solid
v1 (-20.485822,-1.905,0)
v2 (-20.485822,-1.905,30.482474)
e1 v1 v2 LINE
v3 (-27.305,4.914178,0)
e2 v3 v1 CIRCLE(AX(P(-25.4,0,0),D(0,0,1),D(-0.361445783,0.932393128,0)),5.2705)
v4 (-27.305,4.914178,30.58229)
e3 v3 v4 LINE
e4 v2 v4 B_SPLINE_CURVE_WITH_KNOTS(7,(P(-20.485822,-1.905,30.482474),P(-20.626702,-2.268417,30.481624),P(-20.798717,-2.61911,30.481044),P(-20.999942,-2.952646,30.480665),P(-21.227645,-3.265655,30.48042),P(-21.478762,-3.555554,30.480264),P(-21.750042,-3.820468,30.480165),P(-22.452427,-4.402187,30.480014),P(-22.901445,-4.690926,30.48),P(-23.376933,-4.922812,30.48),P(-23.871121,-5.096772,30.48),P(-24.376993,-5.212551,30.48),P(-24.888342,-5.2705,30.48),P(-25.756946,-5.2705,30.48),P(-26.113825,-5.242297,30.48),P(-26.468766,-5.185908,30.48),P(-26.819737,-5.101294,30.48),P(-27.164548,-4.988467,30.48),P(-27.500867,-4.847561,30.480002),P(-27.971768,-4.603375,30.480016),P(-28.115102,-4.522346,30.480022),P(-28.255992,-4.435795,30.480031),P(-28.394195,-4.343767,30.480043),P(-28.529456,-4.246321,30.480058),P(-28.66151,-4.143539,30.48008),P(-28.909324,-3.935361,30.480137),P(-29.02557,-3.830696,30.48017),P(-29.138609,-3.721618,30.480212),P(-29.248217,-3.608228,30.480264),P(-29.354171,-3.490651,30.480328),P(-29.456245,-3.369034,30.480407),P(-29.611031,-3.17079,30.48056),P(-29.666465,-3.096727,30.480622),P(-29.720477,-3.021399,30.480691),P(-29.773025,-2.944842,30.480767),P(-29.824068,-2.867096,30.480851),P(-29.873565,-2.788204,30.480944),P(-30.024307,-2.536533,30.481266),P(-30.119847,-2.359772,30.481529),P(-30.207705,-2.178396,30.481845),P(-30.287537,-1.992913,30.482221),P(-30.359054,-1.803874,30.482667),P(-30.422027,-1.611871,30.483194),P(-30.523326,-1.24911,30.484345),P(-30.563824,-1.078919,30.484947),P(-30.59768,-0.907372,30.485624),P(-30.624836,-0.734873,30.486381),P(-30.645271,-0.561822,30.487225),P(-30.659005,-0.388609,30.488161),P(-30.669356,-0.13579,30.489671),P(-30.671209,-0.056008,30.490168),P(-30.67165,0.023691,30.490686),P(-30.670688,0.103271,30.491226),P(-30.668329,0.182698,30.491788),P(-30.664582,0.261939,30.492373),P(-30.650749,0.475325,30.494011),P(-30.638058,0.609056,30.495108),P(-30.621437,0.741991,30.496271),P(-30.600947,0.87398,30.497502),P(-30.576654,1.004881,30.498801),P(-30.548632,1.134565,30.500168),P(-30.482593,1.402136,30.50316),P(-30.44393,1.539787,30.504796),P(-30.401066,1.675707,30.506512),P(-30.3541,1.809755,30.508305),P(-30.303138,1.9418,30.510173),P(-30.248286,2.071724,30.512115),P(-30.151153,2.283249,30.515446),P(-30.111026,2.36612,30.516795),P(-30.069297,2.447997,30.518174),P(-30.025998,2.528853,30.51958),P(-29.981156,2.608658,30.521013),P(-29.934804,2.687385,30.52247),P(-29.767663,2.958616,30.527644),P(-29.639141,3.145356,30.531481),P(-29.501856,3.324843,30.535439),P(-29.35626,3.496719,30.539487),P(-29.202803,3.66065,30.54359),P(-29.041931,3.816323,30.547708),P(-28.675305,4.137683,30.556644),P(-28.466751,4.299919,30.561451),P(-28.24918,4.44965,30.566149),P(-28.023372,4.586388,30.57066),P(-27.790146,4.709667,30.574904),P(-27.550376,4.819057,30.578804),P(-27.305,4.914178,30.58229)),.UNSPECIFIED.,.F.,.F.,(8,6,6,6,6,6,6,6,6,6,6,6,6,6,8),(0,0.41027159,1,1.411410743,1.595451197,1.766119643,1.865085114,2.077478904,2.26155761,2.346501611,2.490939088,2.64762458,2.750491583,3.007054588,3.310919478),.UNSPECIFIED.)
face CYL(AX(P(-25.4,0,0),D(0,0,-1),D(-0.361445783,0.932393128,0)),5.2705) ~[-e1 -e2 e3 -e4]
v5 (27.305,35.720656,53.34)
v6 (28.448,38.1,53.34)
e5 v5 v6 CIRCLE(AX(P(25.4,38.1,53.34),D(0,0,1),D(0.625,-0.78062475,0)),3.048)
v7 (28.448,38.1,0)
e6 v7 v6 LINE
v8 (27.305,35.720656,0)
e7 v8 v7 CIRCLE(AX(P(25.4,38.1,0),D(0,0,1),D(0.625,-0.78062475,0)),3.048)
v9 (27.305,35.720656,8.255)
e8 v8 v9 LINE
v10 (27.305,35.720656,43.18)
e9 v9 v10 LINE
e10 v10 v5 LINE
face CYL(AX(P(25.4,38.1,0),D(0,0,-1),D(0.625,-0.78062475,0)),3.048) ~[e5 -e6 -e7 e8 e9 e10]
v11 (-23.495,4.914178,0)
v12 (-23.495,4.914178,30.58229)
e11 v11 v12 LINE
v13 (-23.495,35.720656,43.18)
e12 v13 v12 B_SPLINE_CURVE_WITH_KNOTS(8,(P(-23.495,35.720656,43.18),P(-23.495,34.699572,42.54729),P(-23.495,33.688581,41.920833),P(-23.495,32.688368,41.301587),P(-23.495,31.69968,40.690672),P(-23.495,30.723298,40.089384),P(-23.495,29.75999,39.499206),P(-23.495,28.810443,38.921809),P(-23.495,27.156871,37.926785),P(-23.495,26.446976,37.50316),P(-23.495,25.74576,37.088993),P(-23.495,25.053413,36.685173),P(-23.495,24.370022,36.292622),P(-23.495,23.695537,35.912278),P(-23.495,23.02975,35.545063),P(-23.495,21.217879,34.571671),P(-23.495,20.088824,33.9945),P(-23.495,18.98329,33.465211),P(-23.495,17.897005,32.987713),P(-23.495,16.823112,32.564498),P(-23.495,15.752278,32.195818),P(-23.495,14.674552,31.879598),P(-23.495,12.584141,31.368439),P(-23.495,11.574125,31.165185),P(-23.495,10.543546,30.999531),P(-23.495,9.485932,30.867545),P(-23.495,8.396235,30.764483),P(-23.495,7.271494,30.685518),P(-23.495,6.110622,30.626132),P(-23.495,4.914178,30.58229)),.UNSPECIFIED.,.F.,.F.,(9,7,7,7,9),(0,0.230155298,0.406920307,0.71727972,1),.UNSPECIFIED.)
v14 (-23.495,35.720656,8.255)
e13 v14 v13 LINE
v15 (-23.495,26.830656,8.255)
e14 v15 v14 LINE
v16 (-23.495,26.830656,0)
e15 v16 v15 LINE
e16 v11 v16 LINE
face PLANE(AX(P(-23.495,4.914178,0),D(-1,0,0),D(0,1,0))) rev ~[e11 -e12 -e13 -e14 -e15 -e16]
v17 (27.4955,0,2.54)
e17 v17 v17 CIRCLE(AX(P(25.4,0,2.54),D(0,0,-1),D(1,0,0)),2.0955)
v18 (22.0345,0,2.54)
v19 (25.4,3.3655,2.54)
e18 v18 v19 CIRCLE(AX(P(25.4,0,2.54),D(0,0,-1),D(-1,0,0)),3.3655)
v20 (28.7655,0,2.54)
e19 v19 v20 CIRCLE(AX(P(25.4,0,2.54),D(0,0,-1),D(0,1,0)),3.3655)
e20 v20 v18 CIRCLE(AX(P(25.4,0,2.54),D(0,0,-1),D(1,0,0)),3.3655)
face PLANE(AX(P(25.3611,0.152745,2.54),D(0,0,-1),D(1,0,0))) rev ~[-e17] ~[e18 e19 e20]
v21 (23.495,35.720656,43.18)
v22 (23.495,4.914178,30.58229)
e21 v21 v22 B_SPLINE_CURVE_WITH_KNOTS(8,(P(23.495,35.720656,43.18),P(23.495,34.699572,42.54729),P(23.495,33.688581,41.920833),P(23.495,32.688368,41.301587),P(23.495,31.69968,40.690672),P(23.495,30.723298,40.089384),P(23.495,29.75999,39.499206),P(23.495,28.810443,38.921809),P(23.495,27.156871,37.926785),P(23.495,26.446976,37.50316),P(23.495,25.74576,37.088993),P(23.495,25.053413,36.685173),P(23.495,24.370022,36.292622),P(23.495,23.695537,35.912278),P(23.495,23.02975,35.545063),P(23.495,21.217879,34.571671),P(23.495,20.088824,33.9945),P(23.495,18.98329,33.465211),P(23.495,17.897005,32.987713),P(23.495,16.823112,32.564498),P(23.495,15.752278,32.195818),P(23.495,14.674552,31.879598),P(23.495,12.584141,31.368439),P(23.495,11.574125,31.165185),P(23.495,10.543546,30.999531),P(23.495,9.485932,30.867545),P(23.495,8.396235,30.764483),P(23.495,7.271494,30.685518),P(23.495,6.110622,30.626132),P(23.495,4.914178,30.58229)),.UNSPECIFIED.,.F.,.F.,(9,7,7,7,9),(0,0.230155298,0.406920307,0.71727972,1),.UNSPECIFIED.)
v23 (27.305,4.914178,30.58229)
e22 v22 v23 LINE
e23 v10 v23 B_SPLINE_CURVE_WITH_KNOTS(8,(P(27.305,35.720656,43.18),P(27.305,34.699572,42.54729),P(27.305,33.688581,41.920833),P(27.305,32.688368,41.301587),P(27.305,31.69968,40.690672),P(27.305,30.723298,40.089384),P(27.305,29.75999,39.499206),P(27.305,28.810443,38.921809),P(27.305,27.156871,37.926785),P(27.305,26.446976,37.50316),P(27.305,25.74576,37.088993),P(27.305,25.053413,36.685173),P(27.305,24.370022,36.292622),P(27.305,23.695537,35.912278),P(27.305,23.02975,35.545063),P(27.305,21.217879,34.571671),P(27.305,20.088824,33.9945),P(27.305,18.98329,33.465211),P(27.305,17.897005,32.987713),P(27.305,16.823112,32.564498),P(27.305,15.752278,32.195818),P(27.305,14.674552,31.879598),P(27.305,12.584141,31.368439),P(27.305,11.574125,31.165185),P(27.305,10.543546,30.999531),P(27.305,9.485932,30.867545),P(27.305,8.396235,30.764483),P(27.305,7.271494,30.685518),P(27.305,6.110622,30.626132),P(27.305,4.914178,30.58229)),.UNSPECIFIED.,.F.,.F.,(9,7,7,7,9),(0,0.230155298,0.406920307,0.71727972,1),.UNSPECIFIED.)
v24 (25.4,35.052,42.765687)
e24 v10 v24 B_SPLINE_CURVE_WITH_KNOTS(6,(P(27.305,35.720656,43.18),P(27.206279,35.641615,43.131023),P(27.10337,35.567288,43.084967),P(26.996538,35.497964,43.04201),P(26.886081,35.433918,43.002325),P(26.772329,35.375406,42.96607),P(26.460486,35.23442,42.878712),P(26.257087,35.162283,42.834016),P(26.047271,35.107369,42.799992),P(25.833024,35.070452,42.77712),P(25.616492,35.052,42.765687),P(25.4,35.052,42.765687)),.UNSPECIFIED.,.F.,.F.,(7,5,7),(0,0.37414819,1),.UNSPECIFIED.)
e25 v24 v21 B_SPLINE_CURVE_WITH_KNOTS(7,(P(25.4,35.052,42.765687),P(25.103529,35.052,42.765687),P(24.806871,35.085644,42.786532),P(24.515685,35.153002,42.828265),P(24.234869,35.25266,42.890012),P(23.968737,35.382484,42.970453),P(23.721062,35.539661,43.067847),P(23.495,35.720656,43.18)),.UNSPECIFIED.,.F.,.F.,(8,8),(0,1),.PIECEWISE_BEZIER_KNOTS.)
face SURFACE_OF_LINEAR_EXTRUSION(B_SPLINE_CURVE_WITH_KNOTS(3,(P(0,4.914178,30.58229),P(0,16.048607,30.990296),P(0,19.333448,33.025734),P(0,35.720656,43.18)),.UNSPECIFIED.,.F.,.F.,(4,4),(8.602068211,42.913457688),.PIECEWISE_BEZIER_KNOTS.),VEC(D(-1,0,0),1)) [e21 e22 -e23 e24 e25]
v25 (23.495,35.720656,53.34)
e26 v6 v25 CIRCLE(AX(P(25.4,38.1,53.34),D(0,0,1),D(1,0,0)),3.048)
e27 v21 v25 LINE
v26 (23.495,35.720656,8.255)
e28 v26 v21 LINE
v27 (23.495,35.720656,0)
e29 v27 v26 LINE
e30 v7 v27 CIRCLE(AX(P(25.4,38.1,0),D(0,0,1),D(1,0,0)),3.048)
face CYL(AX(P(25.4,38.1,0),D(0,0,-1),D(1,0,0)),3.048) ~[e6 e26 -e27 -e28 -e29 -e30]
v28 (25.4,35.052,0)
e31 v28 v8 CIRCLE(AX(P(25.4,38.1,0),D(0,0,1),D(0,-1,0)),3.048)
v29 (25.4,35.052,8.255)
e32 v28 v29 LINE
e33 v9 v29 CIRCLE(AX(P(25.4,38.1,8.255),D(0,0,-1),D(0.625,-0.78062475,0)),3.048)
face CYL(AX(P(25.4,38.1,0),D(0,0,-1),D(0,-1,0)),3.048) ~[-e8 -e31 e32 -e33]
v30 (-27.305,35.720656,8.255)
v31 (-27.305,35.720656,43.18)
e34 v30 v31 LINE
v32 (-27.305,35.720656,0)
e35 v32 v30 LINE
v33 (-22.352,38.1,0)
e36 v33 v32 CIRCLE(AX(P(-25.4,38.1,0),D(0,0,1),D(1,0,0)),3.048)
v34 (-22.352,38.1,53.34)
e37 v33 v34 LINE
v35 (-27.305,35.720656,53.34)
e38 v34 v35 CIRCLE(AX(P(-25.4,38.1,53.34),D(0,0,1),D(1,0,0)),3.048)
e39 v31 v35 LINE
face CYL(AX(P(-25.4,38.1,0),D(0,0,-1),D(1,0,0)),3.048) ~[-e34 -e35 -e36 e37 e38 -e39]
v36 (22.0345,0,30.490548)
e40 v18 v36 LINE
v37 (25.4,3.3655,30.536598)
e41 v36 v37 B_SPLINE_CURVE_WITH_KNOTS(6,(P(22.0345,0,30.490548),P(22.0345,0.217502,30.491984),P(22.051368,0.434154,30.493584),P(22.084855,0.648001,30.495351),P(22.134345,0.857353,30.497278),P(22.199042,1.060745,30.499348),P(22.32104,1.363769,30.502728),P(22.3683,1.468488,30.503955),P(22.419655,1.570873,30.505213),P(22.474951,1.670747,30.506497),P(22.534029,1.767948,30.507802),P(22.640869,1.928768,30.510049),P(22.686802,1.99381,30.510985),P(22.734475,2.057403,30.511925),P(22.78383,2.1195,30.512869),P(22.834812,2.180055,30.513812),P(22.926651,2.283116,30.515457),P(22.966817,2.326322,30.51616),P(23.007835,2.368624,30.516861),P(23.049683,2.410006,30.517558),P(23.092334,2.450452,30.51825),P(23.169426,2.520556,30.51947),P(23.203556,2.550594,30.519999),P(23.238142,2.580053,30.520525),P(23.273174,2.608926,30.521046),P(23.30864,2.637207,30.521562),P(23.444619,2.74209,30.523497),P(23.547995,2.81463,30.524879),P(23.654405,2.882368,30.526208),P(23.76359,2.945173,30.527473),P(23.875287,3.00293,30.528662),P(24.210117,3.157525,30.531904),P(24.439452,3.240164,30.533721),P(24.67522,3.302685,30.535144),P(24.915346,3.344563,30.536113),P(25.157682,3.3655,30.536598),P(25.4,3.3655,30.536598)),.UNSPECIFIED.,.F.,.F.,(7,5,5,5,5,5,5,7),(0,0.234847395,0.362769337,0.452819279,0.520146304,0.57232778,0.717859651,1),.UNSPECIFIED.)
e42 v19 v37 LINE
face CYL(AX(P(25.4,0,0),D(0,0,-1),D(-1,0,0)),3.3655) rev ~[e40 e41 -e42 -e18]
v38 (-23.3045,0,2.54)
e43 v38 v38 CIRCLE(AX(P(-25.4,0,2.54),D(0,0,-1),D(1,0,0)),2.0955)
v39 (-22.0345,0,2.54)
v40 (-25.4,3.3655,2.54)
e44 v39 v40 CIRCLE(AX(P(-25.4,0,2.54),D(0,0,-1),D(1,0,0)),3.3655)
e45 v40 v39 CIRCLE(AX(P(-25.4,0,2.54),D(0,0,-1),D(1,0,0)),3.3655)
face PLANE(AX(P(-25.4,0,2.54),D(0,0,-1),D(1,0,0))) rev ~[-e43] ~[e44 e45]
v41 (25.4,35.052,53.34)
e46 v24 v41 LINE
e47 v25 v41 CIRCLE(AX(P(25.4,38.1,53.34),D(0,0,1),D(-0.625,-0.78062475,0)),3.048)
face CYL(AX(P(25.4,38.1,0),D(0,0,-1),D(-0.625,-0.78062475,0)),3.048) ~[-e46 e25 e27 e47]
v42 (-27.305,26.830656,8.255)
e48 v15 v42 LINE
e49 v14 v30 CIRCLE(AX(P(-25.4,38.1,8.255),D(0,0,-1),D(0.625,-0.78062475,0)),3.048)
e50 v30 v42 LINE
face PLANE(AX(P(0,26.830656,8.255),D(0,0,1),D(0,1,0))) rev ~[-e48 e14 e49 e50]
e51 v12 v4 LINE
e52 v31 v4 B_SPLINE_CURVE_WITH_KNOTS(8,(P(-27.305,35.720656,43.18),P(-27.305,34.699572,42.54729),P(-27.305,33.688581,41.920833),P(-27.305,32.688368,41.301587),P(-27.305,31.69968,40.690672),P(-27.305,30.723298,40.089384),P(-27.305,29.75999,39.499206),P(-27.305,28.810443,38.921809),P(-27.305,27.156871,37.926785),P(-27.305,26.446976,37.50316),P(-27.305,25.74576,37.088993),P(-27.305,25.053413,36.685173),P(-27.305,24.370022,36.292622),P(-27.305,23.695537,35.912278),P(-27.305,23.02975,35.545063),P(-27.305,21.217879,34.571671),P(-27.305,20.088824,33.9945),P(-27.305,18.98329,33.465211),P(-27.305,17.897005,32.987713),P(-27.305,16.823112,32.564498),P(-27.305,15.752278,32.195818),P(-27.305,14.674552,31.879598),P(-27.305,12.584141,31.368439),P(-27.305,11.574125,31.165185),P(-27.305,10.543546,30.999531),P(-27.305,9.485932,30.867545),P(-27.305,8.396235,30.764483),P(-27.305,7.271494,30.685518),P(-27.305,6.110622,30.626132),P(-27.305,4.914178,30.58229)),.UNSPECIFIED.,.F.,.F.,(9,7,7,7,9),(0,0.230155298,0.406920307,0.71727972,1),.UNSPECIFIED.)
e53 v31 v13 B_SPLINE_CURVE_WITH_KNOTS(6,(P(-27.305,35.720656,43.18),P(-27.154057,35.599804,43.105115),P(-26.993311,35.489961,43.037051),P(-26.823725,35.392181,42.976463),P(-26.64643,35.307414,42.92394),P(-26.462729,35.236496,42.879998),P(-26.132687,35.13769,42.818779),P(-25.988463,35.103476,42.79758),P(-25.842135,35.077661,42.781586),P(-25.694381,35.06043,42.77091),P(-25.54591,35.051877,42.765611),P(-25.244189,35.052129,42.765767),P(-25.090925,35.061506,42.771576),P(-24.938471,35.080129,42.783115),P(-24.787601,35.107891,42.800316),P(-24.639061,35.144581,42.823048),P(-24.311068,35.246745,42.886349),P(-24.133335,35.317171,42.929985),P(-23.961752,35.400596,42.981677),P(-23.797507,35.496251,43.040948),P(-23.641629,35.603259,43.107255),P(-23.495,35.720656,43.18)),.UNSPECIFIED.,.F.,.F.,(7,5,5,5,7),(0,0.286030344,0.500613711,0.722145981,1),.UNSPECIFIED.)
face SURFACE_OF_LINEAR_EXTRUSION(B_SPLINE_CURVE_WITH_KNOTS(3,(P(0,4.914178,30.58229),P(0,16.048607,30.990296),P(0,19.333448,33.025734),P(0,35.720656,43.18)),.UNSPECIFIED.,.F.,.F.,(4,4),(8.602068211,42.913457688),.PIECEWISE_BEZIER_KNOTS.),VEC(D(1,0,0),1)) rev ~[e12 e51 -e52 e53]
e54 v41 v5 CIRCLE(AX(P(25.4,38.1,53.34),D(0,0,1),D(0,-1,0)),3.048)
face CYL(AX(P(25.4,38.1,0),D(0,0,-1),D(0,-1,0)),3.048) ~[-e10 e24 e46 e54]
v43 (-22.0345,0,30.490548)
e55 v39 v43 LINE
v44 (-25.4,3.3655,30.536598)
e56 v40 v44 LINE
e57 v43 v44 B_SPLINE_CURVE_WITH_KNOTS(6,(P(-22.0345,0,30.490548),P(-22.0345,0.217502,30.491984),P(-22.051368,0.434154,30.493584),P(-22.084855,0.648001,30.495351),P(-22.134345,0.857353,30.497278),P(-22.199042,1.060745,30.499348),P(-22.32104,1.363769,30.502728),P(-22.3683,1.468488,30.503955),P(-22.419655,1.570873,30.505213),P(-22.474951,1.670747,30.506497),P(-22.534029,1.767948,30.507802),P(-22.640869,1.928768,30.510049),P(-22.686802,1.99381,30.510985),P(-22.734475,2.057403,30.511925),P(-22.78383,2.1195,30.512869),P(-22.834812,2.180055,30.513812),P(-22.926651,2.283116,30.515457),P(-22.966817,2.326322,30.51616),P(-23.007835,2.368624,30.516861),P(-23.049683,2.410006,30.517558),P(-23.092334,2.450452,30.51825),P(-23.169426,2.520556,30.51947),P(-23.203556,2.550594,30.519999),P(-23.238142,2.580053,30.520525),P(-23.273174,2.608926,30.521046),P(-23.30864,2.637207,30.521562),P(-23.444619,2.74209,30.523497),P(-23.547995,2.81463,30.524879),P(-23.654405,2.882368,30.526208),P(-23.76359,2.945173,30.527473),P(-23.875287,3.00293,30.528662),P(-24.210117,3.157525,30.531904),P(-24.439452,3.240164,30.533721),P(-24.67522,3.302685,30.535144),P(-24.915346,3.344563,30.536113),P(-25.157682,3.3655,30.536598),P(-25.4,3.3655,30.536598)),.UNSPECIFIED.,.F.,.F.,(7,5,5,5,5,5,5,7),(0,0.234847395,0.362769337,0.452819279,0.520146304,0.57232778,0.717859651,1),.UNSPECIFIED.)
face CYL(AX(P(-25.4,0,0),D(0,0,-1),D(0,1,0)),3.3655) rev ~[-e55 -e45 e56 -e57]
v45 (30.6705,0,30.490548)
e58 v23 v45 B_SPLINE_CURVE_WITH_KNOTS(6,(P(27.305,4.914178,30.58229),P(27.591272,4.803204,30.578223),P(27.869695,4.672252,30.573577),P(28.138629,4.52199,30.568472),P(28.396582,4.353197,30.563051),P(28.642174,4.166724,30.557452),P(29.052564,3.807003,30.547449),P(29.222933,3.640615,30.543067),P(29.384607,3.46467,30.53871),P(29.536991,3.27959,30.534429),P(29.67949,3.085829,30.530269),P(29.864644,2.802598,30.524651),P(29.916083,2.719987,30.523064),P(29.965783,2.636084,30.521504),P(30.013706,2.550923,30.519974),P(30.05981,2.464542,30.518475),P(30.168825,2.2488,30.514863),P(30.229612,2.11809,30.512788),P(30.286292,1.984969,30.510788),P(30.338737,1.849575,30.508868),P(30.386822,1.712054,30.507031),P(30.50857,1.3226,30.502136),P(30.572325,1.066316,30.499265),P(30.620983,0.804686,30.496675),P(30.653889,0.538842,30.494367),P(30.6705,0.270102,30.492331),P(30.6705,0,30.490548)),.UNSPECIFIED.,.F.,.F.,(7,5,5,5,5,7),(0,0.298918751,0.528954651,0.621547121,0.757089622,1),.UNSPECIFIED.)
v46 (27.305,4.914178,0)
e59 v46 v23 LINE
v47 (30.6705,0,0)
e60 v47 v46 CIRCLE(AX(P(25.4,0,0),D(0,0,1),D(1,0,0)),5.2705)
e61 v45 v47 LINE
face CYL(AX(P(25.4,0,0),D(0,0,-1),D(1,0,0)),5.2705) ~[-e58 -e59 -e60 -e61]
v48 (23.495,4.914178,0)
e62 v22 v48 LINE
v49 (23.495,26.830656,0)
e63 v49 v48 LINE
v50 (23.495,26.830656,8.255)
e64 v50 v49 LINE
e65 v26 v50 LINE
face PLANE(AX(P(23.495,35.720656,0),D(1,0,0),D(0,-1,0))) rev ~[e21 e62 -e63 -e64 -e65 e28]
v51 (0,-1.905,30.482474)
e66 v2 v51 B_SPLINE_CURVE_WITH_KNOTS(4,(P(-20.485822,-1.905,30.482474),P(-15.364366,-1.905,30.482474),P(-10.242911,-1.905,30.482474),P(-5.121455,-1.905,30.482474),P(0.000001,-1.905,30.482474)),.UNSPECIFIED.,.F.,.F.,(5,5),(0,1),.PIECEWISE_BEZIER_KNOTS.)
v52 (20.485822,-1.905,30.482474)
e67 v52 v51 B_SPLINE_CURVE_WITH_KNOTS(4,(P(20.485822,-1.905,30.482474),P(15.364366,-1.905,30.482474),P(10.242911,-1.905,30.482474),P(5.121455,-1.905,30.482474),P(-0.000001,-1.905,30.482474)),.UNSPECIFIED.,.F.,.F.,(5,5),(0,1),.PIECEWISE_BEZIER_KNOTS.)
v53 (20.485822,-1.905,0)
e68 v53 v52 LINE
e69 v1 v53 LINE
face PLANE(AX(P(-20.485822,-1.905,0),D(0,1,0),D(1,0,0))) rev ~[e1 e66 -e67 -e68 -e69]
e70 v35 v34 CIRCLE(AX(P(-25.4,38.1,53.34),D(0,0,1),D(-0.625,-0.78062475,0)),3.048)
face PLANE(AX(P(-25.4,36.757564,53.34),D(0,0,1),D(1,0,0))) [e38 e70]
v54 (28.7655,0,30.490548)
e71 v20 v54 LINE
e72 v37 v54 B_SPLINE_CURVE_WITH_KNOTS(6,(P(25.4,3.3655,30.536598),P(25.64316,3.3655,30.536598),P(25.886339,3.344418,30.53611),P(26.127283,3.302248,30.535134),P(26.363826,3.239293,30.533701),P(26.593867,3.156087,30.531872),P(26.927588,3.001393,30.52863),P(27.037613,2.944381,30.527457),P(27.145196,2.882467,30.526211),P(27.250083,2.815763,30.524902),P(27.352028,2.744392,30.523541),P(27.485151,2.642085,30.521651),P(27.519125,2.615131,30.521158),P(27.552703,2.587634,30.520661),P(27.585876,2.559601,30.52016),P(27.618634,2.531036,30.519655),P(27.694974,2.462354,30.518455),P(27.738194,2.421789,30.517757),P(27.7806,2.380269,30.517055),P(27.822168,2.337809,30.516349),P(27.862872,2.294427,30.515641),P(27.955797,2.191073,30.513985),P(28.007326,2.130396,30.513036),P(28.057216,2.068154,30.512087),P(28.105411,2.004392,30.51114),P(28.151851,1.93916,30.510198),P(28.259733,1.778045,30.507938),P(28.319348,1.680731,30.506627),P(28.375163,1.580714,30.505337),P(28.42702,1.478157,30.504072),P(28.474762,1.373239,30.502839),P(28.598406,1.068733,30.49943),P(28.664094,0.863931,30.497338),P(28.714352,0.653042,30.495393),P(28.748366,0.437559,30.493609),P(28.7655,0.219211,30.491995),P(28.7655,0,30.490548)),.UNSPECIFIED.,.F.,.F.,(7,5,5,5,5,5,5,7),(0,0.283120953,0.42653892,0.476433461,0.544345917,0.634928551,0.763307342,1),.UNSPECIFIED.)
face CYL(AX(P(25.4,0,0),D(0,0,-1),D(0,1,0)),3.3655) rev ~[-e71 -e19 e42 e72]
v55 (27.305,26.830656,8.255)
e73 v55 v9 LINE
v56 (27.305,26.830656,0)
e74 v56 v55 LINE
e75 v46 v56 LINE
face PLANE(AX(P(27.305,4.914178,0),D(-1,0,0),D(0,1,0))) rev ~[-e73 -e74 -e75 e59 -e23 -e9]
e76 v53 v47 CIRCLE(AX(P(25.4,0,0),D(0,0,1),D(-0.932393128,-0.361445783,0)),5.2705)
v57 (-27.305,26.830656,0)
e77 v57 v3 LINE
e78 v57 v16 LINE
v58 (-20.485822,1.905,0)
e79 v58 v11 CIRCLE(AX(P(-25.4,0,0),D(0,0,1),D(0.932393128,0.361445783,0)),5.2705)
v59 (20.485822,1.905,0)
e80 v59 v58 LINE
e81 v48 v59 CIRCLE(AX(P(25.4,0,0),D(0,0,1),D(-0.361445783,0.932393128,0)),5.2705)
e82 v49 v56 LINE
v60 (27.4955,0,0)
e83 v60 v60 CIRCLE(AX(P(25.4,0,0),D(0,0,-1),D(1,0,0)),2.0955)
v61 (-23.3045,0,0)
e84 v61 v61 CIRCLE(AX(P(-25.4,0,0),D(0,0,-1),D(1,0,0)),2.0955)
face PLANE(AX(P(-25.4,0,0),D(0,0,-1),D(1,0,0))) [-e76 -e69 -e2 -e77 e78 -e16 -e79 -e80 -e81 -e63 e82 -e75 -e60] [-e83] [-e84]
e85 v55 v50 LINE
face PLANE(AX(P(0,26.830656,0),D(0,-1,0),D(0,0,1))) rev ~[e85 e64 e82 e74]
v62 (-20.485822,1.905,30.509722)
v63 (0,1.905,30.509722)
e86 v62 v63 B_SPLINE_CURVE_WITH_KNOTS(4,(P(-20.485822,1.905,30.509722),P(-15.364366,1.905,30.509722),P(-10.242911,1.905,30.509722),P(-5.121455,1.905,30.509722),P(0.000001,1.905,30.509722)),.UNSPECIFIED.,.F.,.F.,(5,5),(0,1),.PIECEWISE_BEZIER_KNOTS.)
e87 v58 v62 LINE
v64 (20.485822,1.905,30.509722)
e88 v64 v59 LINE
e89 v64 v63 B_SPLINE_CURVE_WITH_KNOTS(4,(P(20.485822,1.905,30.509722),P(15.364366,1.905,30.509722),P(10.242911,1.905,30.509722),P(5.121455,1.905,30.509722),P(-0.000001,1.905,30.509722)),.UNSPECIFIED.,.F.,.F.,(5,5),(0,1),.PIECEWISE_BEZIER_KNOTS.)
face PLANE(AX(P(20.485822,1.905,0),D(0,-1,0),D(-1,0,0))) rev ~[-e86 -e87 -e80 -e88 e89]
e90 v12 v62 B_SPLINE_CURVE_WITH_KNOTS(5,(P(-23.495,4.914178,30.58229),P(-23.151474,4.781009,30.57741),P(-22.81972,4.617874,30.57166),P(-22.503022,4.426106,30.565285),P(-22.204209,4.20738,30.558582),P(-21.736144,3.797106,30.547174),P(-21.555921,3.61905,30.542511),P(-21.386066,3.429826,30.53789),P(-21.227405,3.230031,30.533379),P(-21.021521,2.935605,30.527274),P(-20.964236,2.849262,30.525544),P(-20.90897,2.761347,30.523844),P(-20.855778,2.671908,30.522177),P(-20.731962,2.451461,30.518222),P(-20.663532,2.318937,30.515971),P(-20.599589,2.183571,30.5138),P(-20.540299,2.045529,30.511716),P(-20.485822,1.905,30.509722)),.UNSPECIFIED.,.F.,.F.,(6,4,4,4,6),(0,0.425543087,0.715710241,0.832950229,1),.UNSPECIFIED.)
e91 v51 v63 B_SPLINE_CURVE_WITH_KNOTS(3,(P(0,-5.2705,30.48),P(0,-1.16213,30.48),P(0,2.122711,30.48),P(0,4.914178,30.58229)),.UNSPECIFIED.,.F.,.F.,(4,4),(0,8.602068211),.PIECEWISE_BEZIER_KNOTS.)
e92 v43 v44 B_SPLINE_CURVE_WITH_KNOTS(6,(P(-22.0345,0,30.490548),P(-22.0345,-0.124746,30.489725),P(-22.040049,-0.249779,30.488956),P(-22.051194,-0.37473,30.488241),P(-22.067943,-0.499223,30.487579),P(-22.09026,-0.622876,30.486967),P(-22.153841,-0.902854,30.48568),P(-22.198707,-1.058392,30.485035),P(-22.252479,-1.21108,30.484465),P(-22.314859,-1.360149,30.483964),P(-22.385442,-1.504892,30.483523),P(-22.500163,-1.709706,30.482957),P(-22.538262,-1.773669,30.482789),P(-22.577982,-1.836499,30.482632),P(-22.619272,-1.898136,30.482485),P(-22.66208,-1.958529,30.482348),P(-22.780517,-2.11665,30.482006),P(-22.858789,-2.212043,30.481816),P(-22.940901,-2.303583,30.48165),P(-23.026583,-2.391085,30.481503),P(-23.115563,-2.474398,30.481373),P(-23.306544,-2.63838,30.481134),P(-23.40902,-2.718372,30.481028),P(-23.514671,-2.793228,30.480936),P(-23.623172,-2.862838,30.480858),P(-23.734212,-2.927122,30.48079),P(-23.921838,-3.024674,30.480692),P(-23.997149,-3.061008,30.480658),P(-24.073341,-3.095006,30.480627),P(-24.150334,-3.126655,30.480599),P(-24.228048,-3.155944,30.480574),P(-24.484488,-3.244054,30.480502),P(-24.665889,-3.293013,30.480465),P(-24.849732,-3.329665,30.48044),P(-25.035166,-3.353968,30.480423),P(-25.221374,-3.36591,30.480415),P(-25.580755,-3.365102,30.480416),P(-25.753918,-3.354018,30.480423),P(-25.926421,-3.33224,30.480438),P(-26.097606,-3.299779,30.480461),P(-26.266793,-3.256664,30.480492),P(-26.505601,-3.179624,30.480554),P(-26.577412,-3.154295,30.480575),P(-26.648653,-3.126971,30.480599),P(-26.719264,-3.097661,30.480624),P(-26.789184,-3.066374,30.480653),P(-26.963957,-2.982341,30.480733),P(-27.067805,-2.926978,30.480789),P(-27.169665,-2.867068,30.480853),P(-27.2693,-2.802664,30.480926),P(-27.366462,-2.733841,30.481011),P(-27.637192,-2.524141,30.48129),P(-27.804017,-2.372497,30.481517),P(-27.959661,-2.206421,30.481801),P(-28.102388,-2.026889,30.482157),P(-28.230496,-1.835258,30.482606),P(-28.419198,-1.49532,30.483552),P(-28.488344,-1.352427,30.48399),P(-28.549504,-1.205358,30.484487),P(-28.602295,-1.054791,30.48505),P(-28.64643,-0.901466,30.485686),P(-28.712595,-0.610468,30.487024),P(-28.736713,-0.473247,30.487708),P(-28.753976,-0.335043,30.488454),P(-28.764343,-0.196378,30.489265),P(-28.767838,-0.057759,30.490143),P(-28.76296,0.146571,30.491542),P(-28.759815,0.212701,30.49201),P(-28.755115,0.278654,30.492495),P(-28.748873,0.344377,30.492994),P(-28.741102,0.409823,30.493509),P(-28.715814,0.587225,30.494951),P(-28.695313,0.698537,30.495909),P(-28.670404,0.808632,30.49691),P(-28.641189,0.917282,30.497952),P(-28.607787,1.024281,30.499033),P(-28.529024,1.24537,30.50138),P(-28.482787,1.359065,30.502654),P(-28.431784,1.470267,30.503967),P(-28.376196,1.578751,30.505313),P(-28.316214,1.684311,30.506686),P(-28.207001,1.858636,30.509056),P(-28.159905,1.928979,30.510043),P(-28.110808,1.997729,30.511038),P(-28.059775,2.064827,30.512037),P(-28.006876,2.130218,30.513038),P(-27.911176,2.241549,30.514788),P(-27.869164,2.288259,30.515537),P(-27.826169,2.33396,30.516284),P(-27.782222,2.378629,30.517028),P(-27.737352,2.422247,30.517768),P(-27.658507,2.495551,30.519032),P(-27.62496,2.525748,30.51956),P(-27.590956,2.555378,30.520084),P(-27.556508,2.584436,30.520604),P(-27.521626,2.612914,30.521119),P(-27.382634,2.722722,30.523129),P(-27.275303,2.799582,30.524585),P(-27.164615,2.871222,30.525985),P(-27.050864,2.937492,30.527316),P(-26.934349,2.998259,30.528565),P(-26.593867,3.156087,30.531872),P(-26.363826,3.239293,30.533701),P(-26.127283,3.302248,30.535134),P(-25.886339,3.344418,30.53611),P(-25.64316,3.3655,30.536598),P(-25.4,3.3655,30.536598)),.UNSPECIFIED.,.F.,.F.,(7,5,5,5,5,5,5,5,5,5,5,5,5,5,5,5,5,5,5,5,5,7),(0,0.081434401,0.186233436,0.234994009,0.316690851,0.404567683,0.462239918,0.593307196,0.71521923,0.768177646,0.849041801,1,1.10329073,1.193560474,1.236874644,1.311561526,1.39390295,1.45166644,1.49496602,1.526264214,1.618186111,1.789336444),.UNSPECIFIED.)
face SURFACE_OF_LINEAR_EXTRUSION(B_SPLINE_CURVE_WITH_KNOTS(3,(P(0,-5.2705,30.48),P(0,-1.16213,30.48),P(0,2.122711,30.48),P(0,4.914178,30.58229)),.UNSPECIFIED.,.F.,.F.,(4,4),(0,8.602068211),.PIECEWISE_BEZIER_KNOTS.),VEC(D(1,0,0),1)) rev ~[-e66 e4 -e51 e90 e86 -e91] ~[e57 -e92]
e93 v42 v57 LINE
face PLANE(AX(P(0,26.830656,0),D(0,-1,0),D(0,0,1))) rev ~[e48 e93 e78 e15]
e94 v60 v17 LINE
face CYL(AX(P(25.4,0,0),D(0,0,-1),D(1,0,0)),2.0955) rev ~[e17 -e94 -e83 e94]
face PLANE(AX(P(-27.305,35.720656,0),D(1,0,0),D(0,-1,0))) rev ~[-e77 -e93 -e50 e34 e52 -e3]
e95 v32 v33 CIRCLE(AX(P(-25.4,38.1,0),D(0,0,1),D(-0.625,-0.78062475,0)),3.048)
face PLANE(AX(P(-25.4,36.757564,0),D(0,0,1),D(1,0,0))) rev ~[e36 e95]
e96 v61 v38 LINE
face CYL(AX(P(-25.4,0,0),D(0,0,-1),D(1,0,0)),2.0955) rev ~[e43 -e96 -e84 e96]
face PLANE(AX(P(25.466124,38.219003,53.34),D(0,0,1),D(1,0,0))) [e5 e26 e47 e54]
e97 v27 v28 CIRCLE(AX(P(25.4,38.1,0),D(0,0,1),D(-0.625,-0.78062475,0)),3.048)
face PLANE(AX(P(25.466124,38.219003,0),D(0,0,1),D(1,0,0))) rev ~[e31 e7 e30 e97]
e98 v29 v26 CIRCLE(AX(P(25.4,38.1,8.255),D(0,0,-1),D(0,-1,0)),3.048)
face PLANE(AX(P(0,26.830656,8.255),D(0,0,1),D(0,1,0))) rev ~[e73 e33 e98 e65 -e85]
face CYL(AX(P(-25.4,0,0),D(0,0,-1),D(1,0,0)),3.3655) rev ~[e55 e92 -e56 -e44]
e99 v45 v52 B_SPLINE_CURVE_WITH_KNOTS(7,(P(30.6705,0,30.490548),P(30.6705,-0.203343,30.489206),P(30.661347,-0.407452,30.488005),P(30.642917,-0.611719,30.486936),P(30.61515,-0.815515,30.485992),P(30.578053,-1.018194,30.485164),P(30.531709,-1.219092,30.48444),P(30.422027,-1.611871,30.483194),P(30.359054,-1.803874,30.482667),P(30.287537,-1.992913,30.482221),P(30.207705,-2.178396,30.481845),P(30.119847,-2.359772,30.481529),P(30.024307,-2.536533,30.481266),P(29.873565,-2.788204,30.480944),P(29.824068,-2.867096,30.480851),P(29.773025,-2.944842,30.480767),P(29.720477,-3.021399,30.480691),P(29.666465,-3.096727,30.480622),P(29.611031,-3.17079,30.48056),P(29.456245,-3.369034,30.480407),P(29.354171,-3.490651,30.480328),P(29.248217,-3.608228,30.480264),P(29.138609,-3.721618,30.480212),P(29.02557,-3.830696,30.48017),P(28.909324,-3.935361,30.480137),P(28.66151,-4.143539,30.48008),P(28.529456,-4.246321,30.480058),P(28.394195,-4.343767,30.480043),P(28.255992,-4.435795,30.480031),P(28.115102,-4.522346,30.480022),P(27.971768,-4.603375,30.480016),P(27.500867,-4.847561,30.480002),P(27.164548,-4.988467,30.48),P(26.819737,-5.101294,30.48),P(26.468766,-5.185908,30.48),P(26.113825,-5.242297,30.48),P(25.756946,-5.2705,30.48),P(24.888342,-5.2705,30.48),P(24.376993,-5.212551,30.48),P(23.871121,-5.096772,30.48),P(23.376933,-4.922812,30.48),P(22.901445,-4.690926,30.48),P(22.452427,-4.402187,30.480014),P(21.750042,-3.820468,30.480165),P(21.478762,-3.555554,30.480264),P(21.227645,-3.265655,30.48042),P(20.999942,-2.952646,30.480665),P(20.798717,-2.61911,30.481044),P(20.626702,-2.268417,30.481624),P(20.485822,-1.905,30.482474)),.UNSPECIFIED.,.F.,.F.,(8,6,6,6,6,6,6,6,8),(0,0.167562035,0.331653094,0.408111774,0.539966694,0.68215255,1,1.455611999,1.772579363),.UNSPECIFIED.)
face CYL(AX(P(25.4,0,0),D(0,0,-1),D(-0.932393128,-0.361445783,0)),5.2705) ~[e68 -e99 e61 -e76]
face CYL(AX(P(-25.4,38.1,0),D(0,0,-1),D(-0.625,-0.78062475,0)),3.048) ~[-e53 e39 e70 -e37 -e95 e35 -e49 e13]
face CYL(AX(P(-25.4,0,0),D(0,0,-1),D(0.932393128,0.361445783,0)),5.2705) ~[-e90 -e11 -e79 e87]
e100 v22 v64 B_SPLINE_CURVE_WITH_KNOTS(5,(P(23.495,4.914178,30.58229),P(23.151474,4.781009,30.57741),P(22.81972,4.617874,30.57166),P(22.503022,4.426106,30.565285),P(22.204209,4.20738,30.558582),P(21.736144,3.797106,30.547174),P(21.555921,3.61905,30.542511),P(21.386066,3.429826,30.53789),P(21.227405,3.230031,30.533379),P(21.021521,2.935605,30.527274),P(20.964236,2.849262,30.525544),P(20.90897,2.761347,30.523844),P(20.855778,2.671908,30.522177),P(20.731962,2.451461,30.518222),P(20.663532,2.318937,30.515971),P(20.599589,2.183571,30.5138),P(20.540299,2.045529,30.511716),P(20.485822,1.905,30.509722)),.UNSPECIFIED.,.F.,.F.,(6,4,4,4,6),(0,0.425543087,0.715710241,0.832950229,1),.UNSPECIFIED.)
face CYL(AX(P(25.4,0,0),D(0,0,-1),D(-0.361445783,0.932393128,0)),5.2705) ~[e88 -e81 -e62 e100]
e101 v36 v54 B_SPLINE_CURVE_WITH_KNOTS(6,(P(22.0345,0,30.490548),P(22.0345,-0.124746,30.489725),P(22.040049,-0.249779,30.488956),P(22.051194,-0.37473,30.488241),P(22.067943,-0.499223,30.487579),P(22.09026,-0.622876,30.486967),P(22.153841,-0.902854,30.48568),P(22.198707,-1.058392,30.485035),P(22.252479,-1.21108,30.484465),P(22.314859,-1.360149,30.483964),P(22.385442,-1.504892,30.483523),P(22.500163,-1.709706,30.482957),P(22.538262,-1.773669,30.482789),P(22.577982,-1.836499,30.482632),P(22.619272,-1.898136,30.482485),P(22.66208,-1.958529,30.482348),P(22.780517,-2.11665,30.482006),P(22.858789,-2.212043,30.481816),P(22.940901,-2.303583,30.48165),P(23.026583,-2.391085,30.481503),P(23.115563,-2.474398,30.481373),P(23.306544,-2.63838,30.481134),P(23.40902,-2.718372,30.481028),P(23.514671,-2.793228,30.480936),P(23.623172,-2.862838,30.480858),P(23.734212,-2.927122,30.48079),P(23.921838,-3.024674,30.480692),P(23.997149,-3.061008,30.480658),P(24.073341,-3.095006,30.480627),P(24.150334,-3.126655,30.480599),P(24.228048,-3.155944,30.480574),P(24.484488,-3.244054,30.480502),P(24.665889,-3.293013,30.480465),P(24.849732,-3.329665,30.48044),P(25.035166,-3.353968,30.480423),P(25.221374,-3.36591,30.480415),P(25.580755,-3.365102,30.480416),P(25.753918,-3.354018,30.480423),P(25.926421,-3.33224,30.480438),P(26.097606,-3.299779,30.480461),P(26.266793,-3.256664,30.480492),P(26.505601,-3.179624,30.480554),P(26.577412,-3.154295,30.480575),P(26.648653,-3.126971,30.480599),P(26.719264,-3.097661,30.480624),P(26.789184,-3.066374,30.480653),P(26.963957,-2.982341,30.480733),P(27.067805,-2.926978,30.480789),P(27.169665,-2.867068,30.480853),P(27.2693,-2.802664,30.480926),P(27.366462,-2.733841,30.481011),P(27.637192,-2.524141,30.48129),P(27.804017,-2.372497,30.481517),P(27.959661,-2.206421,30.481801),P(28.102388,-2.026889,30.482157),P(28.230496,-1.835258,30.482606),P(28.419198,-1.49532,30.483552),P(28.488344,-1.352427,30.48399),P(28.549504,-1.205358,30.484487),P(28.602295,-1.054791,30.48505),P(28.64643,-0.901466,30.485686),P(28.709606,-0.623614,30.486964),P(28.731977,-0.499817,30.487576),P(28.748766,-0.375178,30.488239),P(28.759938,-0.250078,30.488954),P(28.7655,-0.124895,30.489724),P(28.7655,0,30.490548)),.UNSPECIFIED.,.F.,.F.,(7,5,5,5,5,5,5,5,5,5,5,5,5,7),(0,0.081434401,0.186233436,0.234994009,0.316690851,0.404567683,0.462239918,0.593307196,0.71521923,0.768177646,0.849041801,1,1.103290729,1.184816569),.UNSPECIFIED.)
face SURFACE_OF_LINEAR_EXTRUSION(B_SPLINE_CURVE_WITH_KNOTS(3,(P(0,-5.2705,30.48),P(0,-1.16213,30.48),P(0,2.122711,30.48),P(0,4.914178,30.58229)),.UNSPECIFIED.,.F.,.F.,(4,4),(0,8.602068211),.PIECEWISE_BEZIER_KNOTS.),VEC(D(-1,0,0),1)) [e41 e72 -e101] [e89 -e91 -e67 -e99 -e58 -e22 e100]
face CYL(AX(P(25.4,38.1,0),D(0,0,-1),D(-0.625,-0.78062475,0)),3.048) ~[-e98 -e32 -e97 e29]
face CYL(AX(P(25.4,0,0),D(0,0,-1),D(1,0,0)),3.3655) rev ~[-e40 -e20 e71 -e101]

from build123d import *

# Parameters (mm, degrees)
F1_DEPTH = 50.8
F2_W     = 8.89
F2_H     = 8.255
F3_DEPTH = 38.1
F4_R     = 3.3655
F4_R_2   = 2.0955
F5_DEPTH = 2.54
F6_DEPTH = 53.34


with BuildPart() as f1:
    # F0 (on Top) → F1 (new body)
    with BuildSketch(Plane.XY):
        with BuildLine():
            Line((-27.305, 3.3655), (-27.305, 4.9141779831))
            ThreePointArc((-27.305, 4.9141779831), (-29.1268062902, -3.7268062902), (-20.4858220169, -1.905))
            Line((-20.4858220169, -1.905), (-22.0345, -1.905))
            Line((-22.0345, -1.905), (-22.0345, 0))
            ThreePointArc((-22.0345, 0), (-27.7797678721, -2.3797678721), (-25.4, 3.3655))
            Line((-25.4, 3.3655), (-27.305, 3.3655))
        make_face()
        with BuildLine():
            ThreePointArc((-23.495, 35.7206557626), (-25.4, 35.052), (-27.305, 35.7206557626))
            Line((-27.305, 35.7206557626), (-27.305, 4.9141779831))
            ThreePointArc((-27.305, 4.9141779831), (-25.4, 5.2705), (-23.495, 4.9141779831))
            Line((-23.495, 4.9141779831), (-23.495, 35.7206557626))
        make_face()
        with BuildLine():
            ThreePointArc((-23.495, 4.9141779831), (-25.4, 5.2705), (-27.305, 4.9141779831))
            Line((-27.305, 4.9141779831), (-27.305, 3.3655))
            Line((-27.305, 3.3655), (-25.4, 3.3655))
            Line((-25.4, 3.3655), (-23.495, 3.3655))
            Line((-23.495, 3.3655), (-23.495, 4.9141779831))
        make_face()
        with BuildLine():
            Line((-22.0345, -1.905), (-20.4858220169, -1.905))
            ThreePointArc((-20.4858220169, -1.905), (-20.2193463101, -0.9690188826), (-20.1295, 0))
            ThreePointArc((-20.1295, 0), (-20.2193463101, 0.9690188826), (-20.4858220169, 1.905))
            Line((-20.4858220169, 1.905), (-22.0345, 1.905))
            Line((-22.0345, 1.905), (-22.0345, 0))
            Line((-22.0345, 0), (-22.0345, -1.905))
        make_face()
        with BuildLine():
            ThreePointArc((-20.4858220169, 1.905), (-21.6731937098, 3.7268062902), (-23.495, 4.9141779831))
            Line((-23.495, 4.9141779831), (-23.495, 3.3655))
            Line((-23.495, 3.3655), (-25.4, 3.3655))
            ThreePointArc((-25.4, 3.3655), (-23.0202321279, 2.3797678721), (-22.0345, 0))
            Line((-22.0345, 0), (-22.0345, 1.905))
            Line((-22.0345, 1.905), (-20.4858220169, 1.905))
        make_face()
        with BuildLine():
            ThreePointArc((-20.1295, 0), (-20.2193463101, -0.9690188826), (-20.4858220169, -1.905))
            Line((-20.4858220169, -1.905), (0, -1.905))
            Line((0, -1.905), (0, 0))
            Line((0, 0), (0, 1.905))
            Line((0, 1.905), (-20.4858220169, 1.905))
            ThreePointArc((-20.4858220169, 1.905), (-20.2193463101, 0.9690188826), (-20.1295, 0))
        make_face()
        with BuildLine():
            Line((20.4858220169, 1.905), (0, 1.905))
            Line((0, 1.905), (0, 0))
            Line((0, 0), (20.1295, 0))
            ThreePointArc((20.1295, 0), (20.2193463101, 0.9690188826), (20.4858220169, 1.905))
        make_face()
        with BuildLine():
            Line((22.0345, 1.905), (20.4858220169, 1.905))
            ThreePointArc((20.4858220169, 1.905), (20.2193463101, 0.9690188826), (20.1295, 0))
            Line((20.1295, 0), (22.0345, 0))
            Line((22.0345, 0), (22.0345, 1.905))
        make_face()
        with BuildLine():
            Line((22.0345, -1.905), (20.4858220169, -1.905))
            ThreePointArc((20.4858220169, -1.905), (26.3690188826, -5.1806536899), (30.6705, 0))
            ThreePointArc((30.6705, 0), (29.7484751782, 2.9780755321), (27.305, 4.9141779831))
            Line((27.305, 4.9141779831), (27.305, 3.3655))
            Line((27.305, 3.3655), (25.4, 3.3655))
            ThreePointArc((25.4, 3.3655), (27.7797678721, 2.3797678721), (28.7655, 0))
            ThreePointArc((28.7655, 0), (25.4, -3.3655), (22.0345, 0))
            Line((22.0345, 0), (22.0345, -1.905))
        make_face()
        with BuildLine():
            ThreePointArc((20.1295, 0), (20.2193463101, -0.9690188826), (20.4858220169, -1.905))
            Line((20.4858220169, -1.905), (22.0345, -1.905))
            Line((22.0345, -1.905), (22.0345, 0))
            Line((22.0345, 0), (20.1295, 0))
        make_face()
        with BuildLine():
            Line((0, 0), (0, -1.905))
            Line((0, -1.905), (20.4858220169, -1.905))
            ThreePointArc((20.4858220169, -1.905), (20.2193463101, -0.9690188826), (20.1295, 0))
            Line((20.1295, 0), (0, 0))
        make_face()
        with BuildLine():
            Line((27.305, 3.3655), (27.305, 4.9141779831))
            ThreePointArc((27.305, 4.9141779831), (26.3690188826, 5.1806536899), (25.4, 5.2705))
            Line((25.4, 5.2705), (25.4, 3.3655))
            Line((25.4, 3.3655), (27.305, 3.3655))
        make_face()
        with BuildLine():
            ThreePointArc((25.4, 5.2705), (26.3690188826, 5.1806536899), (27.305, 4.9141779831))
            Line((27.305, 4.9141779831), (27.305, 35.7206557626))
            ThreePointArc((27.305, 35.7206557626), (26.4094708427, 35.2240179733), (25.4, 35.052))
            Line((25.4, 35.052), (25.4, 5.2705))
        make_face()
        with BuildLine():
            Line((23.495, 35.7206557626), (23.495, 4.9141779831))
            ThreePointArc((23.495, 4.9141779831), (24.4309811174, 5.1806536899), (25.4, 5.2705))
            Line((25.4, 5.2705), (25.4, 35.052))
            ThreePointArc((25.4, 35.052), (24.3905291573, 35.2240179733), (23.495, 35.7206557626))
        make_face()
        with BuildLine():
            ThreePointArc((25.4, 5.2705), (24.4309811174, 5.1806536899), (23.495, 4.9141779831))
            Line((23.495, 4.9141779831), (23.495, 3.3655))
            Line((23.495, 3.3655), (25.4, 3.3655))
            Line((25.4, 3.3655), (25.4, 5.2705))
        make_face()
        with BuildLine():
            ThreePointArc((23.495, 4.9141779831), (21.6731937098, 3.7268062902), (20.4858220169, 1.905))
            Line((20.4858220169, 1.905), (22.0345, 1.905))
            Line((22.0345, 1.905), (22.0345, 0))
            ThreePointArc((22.0345, 0), (23.0202321279, 2.3797678721), (25.4, 3.3655))
            Line((25.4, 3.3655), (23.495, 3.3655))
            Line((23.495, 3.3655), (23.495, 4.9141779831))
        make_face()
    extrude(amount=F1_DEPTH)

    # F2 (on Right) → F3 (cut, symmetric)
    with BuildSketch(Plane.YZ):
        with Locations((31.2756557626, 4.1275)):
            Rectangle(F2_W, F2_H)
        with BuildLine():
            Line((4.9141779831, 50.8), (4.9141779831, 30.582289685))
            add(Edge.make_bspline(
                [(4.9141779831, 30.582289685), (16.0486069147, 30.9902963569), (19.3334478065, 33.025734419), (35.7206557626, 43.18)],
                knots=[8.6020682106, 8.6020682106, 8.6020682106, 8.6020682106, 42.9134576882, 42.9134576882, 42.9134576882, 42.9134576882], degree=3))
            Line((35.7206557626, 43.18), (35.7206557626, 50.8))
            Line((35.7206557626, 50.8), (4.9141779831, 50.8))
        make_face()
        with BuildLine():
            add(Edge.make_bspline(
                [(-5.2705, 30.48), (-1.1621300748, 30.48), (2.1227108169, 30.48), (4.9141779831, 30.582289685)],
                knots=[0, 0, 0, 0, 8.6020682106, 8.6020682106, 8.6020682106, 8.6020682106], degree=3))
            Line((4.9141779831, 30.582289685), (4.9141779831, 50.8))
            Line((4.9141779831, 50.8), (-5.2705, 50.8))
            Line((-5.2705, 50.8), (-5.2705, 30.48))
        make_face()
    extrude(amount=F3_DEPTH, both=True, mode=Mode.SUBTRACT)

    # F4 (on face) → F5 (join)
    with BuildSketch(Plane(origin=(0, 0, 0), x_dir=(1, 0, 0), z_dir=(0, 0, -1))):
        with Locations((-25.4, 0)):
            Circle(F4_R)
        with Locations((-25.4, 0)):
            Circle(F4_R_2, mode=Mode.SUBTRACT)
        with BuildLine():
            ThreePointArc((30.6705, 0), (26.3690188826, 5.1806536899), (20.4858220169, 1.905))
            ThreePointArc((20.4858220169, 1.905), (20.1295, 0), (20.4858220169, -1.905))
            ThreePointArc((20.4858220169, -1.905), (21.6731937098, -3.7268062902), (23.495, -4.9141779831))
            ThreePointArc((23.495, -4.9141779831), (25.4, -5.2705), (27.305, -4.9141779831))
            ThreePointArc((27.305, -4.9141779831), (29.7484751782, -2.9780755321), (30.6705, 0))
        make_face()
        with Locations((25.4, 0)):
            Circle(F4_R, mode=Mode.SUBTRACT)
        with Locations((25.4, 0)):
            Circle(F4_R)
        with Locations((25.4, 0)):
            Circle(F4_R_2, mode=Mode.SUBTRACT)
    extrude(amount=-F5_DEPTH)

    # F0 (on Top) → F6 (join)
    with BuildSketch(Plane.XY):
        with BuildLine():
            Line((-27.305, 38.1), (-27.305, 35.7206557626))
            ThreePointArc((-27.305, 35.7206557626), (-25.4, 35.052), (-23.495, 35.7206557626))
            Line((-23.495, 35.7206557626), (-23.495, 38.1))
            Line((-23.495, 38.1), (-27.305, 38.1))
        make_face()
        with BuildLine():
            ThreePointArc((-23.495, 35.7206557626), (-22.6525699281, 36.7801772846), (-22.352, 38.1))
            ThreePointArc((-22.352, 38.1), (-26.7198227154, 40.8474300719), (-27.305, 35.7206557626))
            Line((-27.305, 35.7206557626), (-27.305, 38.1))
            Line((-27.305, 38.1), (-23.495, 38.1))
            Line((-23.495, 38.1), (-23.495, 35.7206557626))
        make_face()
        with BuildLine():
            ThreePointArc((28.448, 38.1), (24.0801772846, 40.8474300719), (23.495, 35.7206557626))
            Line((23.495, 35.7206557626), (23.495, 38.1))
            Line((23.495, 38.1), (25.4, 38.1))
            Line((25.4, 38.1), (27.305, 38.1))
            Line((27.305, 38.1), (27.305, 35.7206557626))
            ThreePointArc((27.305, 35.7206557626), (28.1474300719, 36.7801772846), (28.448, 38.1))
        make_face()
        with BuildLine():
            ThreePointArc((25.4, 35.052), (26.4094708427, 35.2240179733), (27.305, 35.7206557626))
            Line((27.305, 35.7206557626), (27.305, 38.1))
            Line((27.305, 38.1), (25.4, 38.1))
            Line((25.4, 38.1), (25.4, 35.052))
        make_face()
        with BuildLine():
            Line((23.495, 38.1), (23.495, 35.7206557626))
            ThreePointArc((23.495, 35.7206557626), (24.3905291573, 35.2240179733), (25.4, 35.052))
            Line((25.4, 35.052), (25.4, 38.1))
            Line((25.4, 38.1), (23.495, 38.1))
        make_face()
    extrude(amount=F6_DEPTH)


solid = f1.part
